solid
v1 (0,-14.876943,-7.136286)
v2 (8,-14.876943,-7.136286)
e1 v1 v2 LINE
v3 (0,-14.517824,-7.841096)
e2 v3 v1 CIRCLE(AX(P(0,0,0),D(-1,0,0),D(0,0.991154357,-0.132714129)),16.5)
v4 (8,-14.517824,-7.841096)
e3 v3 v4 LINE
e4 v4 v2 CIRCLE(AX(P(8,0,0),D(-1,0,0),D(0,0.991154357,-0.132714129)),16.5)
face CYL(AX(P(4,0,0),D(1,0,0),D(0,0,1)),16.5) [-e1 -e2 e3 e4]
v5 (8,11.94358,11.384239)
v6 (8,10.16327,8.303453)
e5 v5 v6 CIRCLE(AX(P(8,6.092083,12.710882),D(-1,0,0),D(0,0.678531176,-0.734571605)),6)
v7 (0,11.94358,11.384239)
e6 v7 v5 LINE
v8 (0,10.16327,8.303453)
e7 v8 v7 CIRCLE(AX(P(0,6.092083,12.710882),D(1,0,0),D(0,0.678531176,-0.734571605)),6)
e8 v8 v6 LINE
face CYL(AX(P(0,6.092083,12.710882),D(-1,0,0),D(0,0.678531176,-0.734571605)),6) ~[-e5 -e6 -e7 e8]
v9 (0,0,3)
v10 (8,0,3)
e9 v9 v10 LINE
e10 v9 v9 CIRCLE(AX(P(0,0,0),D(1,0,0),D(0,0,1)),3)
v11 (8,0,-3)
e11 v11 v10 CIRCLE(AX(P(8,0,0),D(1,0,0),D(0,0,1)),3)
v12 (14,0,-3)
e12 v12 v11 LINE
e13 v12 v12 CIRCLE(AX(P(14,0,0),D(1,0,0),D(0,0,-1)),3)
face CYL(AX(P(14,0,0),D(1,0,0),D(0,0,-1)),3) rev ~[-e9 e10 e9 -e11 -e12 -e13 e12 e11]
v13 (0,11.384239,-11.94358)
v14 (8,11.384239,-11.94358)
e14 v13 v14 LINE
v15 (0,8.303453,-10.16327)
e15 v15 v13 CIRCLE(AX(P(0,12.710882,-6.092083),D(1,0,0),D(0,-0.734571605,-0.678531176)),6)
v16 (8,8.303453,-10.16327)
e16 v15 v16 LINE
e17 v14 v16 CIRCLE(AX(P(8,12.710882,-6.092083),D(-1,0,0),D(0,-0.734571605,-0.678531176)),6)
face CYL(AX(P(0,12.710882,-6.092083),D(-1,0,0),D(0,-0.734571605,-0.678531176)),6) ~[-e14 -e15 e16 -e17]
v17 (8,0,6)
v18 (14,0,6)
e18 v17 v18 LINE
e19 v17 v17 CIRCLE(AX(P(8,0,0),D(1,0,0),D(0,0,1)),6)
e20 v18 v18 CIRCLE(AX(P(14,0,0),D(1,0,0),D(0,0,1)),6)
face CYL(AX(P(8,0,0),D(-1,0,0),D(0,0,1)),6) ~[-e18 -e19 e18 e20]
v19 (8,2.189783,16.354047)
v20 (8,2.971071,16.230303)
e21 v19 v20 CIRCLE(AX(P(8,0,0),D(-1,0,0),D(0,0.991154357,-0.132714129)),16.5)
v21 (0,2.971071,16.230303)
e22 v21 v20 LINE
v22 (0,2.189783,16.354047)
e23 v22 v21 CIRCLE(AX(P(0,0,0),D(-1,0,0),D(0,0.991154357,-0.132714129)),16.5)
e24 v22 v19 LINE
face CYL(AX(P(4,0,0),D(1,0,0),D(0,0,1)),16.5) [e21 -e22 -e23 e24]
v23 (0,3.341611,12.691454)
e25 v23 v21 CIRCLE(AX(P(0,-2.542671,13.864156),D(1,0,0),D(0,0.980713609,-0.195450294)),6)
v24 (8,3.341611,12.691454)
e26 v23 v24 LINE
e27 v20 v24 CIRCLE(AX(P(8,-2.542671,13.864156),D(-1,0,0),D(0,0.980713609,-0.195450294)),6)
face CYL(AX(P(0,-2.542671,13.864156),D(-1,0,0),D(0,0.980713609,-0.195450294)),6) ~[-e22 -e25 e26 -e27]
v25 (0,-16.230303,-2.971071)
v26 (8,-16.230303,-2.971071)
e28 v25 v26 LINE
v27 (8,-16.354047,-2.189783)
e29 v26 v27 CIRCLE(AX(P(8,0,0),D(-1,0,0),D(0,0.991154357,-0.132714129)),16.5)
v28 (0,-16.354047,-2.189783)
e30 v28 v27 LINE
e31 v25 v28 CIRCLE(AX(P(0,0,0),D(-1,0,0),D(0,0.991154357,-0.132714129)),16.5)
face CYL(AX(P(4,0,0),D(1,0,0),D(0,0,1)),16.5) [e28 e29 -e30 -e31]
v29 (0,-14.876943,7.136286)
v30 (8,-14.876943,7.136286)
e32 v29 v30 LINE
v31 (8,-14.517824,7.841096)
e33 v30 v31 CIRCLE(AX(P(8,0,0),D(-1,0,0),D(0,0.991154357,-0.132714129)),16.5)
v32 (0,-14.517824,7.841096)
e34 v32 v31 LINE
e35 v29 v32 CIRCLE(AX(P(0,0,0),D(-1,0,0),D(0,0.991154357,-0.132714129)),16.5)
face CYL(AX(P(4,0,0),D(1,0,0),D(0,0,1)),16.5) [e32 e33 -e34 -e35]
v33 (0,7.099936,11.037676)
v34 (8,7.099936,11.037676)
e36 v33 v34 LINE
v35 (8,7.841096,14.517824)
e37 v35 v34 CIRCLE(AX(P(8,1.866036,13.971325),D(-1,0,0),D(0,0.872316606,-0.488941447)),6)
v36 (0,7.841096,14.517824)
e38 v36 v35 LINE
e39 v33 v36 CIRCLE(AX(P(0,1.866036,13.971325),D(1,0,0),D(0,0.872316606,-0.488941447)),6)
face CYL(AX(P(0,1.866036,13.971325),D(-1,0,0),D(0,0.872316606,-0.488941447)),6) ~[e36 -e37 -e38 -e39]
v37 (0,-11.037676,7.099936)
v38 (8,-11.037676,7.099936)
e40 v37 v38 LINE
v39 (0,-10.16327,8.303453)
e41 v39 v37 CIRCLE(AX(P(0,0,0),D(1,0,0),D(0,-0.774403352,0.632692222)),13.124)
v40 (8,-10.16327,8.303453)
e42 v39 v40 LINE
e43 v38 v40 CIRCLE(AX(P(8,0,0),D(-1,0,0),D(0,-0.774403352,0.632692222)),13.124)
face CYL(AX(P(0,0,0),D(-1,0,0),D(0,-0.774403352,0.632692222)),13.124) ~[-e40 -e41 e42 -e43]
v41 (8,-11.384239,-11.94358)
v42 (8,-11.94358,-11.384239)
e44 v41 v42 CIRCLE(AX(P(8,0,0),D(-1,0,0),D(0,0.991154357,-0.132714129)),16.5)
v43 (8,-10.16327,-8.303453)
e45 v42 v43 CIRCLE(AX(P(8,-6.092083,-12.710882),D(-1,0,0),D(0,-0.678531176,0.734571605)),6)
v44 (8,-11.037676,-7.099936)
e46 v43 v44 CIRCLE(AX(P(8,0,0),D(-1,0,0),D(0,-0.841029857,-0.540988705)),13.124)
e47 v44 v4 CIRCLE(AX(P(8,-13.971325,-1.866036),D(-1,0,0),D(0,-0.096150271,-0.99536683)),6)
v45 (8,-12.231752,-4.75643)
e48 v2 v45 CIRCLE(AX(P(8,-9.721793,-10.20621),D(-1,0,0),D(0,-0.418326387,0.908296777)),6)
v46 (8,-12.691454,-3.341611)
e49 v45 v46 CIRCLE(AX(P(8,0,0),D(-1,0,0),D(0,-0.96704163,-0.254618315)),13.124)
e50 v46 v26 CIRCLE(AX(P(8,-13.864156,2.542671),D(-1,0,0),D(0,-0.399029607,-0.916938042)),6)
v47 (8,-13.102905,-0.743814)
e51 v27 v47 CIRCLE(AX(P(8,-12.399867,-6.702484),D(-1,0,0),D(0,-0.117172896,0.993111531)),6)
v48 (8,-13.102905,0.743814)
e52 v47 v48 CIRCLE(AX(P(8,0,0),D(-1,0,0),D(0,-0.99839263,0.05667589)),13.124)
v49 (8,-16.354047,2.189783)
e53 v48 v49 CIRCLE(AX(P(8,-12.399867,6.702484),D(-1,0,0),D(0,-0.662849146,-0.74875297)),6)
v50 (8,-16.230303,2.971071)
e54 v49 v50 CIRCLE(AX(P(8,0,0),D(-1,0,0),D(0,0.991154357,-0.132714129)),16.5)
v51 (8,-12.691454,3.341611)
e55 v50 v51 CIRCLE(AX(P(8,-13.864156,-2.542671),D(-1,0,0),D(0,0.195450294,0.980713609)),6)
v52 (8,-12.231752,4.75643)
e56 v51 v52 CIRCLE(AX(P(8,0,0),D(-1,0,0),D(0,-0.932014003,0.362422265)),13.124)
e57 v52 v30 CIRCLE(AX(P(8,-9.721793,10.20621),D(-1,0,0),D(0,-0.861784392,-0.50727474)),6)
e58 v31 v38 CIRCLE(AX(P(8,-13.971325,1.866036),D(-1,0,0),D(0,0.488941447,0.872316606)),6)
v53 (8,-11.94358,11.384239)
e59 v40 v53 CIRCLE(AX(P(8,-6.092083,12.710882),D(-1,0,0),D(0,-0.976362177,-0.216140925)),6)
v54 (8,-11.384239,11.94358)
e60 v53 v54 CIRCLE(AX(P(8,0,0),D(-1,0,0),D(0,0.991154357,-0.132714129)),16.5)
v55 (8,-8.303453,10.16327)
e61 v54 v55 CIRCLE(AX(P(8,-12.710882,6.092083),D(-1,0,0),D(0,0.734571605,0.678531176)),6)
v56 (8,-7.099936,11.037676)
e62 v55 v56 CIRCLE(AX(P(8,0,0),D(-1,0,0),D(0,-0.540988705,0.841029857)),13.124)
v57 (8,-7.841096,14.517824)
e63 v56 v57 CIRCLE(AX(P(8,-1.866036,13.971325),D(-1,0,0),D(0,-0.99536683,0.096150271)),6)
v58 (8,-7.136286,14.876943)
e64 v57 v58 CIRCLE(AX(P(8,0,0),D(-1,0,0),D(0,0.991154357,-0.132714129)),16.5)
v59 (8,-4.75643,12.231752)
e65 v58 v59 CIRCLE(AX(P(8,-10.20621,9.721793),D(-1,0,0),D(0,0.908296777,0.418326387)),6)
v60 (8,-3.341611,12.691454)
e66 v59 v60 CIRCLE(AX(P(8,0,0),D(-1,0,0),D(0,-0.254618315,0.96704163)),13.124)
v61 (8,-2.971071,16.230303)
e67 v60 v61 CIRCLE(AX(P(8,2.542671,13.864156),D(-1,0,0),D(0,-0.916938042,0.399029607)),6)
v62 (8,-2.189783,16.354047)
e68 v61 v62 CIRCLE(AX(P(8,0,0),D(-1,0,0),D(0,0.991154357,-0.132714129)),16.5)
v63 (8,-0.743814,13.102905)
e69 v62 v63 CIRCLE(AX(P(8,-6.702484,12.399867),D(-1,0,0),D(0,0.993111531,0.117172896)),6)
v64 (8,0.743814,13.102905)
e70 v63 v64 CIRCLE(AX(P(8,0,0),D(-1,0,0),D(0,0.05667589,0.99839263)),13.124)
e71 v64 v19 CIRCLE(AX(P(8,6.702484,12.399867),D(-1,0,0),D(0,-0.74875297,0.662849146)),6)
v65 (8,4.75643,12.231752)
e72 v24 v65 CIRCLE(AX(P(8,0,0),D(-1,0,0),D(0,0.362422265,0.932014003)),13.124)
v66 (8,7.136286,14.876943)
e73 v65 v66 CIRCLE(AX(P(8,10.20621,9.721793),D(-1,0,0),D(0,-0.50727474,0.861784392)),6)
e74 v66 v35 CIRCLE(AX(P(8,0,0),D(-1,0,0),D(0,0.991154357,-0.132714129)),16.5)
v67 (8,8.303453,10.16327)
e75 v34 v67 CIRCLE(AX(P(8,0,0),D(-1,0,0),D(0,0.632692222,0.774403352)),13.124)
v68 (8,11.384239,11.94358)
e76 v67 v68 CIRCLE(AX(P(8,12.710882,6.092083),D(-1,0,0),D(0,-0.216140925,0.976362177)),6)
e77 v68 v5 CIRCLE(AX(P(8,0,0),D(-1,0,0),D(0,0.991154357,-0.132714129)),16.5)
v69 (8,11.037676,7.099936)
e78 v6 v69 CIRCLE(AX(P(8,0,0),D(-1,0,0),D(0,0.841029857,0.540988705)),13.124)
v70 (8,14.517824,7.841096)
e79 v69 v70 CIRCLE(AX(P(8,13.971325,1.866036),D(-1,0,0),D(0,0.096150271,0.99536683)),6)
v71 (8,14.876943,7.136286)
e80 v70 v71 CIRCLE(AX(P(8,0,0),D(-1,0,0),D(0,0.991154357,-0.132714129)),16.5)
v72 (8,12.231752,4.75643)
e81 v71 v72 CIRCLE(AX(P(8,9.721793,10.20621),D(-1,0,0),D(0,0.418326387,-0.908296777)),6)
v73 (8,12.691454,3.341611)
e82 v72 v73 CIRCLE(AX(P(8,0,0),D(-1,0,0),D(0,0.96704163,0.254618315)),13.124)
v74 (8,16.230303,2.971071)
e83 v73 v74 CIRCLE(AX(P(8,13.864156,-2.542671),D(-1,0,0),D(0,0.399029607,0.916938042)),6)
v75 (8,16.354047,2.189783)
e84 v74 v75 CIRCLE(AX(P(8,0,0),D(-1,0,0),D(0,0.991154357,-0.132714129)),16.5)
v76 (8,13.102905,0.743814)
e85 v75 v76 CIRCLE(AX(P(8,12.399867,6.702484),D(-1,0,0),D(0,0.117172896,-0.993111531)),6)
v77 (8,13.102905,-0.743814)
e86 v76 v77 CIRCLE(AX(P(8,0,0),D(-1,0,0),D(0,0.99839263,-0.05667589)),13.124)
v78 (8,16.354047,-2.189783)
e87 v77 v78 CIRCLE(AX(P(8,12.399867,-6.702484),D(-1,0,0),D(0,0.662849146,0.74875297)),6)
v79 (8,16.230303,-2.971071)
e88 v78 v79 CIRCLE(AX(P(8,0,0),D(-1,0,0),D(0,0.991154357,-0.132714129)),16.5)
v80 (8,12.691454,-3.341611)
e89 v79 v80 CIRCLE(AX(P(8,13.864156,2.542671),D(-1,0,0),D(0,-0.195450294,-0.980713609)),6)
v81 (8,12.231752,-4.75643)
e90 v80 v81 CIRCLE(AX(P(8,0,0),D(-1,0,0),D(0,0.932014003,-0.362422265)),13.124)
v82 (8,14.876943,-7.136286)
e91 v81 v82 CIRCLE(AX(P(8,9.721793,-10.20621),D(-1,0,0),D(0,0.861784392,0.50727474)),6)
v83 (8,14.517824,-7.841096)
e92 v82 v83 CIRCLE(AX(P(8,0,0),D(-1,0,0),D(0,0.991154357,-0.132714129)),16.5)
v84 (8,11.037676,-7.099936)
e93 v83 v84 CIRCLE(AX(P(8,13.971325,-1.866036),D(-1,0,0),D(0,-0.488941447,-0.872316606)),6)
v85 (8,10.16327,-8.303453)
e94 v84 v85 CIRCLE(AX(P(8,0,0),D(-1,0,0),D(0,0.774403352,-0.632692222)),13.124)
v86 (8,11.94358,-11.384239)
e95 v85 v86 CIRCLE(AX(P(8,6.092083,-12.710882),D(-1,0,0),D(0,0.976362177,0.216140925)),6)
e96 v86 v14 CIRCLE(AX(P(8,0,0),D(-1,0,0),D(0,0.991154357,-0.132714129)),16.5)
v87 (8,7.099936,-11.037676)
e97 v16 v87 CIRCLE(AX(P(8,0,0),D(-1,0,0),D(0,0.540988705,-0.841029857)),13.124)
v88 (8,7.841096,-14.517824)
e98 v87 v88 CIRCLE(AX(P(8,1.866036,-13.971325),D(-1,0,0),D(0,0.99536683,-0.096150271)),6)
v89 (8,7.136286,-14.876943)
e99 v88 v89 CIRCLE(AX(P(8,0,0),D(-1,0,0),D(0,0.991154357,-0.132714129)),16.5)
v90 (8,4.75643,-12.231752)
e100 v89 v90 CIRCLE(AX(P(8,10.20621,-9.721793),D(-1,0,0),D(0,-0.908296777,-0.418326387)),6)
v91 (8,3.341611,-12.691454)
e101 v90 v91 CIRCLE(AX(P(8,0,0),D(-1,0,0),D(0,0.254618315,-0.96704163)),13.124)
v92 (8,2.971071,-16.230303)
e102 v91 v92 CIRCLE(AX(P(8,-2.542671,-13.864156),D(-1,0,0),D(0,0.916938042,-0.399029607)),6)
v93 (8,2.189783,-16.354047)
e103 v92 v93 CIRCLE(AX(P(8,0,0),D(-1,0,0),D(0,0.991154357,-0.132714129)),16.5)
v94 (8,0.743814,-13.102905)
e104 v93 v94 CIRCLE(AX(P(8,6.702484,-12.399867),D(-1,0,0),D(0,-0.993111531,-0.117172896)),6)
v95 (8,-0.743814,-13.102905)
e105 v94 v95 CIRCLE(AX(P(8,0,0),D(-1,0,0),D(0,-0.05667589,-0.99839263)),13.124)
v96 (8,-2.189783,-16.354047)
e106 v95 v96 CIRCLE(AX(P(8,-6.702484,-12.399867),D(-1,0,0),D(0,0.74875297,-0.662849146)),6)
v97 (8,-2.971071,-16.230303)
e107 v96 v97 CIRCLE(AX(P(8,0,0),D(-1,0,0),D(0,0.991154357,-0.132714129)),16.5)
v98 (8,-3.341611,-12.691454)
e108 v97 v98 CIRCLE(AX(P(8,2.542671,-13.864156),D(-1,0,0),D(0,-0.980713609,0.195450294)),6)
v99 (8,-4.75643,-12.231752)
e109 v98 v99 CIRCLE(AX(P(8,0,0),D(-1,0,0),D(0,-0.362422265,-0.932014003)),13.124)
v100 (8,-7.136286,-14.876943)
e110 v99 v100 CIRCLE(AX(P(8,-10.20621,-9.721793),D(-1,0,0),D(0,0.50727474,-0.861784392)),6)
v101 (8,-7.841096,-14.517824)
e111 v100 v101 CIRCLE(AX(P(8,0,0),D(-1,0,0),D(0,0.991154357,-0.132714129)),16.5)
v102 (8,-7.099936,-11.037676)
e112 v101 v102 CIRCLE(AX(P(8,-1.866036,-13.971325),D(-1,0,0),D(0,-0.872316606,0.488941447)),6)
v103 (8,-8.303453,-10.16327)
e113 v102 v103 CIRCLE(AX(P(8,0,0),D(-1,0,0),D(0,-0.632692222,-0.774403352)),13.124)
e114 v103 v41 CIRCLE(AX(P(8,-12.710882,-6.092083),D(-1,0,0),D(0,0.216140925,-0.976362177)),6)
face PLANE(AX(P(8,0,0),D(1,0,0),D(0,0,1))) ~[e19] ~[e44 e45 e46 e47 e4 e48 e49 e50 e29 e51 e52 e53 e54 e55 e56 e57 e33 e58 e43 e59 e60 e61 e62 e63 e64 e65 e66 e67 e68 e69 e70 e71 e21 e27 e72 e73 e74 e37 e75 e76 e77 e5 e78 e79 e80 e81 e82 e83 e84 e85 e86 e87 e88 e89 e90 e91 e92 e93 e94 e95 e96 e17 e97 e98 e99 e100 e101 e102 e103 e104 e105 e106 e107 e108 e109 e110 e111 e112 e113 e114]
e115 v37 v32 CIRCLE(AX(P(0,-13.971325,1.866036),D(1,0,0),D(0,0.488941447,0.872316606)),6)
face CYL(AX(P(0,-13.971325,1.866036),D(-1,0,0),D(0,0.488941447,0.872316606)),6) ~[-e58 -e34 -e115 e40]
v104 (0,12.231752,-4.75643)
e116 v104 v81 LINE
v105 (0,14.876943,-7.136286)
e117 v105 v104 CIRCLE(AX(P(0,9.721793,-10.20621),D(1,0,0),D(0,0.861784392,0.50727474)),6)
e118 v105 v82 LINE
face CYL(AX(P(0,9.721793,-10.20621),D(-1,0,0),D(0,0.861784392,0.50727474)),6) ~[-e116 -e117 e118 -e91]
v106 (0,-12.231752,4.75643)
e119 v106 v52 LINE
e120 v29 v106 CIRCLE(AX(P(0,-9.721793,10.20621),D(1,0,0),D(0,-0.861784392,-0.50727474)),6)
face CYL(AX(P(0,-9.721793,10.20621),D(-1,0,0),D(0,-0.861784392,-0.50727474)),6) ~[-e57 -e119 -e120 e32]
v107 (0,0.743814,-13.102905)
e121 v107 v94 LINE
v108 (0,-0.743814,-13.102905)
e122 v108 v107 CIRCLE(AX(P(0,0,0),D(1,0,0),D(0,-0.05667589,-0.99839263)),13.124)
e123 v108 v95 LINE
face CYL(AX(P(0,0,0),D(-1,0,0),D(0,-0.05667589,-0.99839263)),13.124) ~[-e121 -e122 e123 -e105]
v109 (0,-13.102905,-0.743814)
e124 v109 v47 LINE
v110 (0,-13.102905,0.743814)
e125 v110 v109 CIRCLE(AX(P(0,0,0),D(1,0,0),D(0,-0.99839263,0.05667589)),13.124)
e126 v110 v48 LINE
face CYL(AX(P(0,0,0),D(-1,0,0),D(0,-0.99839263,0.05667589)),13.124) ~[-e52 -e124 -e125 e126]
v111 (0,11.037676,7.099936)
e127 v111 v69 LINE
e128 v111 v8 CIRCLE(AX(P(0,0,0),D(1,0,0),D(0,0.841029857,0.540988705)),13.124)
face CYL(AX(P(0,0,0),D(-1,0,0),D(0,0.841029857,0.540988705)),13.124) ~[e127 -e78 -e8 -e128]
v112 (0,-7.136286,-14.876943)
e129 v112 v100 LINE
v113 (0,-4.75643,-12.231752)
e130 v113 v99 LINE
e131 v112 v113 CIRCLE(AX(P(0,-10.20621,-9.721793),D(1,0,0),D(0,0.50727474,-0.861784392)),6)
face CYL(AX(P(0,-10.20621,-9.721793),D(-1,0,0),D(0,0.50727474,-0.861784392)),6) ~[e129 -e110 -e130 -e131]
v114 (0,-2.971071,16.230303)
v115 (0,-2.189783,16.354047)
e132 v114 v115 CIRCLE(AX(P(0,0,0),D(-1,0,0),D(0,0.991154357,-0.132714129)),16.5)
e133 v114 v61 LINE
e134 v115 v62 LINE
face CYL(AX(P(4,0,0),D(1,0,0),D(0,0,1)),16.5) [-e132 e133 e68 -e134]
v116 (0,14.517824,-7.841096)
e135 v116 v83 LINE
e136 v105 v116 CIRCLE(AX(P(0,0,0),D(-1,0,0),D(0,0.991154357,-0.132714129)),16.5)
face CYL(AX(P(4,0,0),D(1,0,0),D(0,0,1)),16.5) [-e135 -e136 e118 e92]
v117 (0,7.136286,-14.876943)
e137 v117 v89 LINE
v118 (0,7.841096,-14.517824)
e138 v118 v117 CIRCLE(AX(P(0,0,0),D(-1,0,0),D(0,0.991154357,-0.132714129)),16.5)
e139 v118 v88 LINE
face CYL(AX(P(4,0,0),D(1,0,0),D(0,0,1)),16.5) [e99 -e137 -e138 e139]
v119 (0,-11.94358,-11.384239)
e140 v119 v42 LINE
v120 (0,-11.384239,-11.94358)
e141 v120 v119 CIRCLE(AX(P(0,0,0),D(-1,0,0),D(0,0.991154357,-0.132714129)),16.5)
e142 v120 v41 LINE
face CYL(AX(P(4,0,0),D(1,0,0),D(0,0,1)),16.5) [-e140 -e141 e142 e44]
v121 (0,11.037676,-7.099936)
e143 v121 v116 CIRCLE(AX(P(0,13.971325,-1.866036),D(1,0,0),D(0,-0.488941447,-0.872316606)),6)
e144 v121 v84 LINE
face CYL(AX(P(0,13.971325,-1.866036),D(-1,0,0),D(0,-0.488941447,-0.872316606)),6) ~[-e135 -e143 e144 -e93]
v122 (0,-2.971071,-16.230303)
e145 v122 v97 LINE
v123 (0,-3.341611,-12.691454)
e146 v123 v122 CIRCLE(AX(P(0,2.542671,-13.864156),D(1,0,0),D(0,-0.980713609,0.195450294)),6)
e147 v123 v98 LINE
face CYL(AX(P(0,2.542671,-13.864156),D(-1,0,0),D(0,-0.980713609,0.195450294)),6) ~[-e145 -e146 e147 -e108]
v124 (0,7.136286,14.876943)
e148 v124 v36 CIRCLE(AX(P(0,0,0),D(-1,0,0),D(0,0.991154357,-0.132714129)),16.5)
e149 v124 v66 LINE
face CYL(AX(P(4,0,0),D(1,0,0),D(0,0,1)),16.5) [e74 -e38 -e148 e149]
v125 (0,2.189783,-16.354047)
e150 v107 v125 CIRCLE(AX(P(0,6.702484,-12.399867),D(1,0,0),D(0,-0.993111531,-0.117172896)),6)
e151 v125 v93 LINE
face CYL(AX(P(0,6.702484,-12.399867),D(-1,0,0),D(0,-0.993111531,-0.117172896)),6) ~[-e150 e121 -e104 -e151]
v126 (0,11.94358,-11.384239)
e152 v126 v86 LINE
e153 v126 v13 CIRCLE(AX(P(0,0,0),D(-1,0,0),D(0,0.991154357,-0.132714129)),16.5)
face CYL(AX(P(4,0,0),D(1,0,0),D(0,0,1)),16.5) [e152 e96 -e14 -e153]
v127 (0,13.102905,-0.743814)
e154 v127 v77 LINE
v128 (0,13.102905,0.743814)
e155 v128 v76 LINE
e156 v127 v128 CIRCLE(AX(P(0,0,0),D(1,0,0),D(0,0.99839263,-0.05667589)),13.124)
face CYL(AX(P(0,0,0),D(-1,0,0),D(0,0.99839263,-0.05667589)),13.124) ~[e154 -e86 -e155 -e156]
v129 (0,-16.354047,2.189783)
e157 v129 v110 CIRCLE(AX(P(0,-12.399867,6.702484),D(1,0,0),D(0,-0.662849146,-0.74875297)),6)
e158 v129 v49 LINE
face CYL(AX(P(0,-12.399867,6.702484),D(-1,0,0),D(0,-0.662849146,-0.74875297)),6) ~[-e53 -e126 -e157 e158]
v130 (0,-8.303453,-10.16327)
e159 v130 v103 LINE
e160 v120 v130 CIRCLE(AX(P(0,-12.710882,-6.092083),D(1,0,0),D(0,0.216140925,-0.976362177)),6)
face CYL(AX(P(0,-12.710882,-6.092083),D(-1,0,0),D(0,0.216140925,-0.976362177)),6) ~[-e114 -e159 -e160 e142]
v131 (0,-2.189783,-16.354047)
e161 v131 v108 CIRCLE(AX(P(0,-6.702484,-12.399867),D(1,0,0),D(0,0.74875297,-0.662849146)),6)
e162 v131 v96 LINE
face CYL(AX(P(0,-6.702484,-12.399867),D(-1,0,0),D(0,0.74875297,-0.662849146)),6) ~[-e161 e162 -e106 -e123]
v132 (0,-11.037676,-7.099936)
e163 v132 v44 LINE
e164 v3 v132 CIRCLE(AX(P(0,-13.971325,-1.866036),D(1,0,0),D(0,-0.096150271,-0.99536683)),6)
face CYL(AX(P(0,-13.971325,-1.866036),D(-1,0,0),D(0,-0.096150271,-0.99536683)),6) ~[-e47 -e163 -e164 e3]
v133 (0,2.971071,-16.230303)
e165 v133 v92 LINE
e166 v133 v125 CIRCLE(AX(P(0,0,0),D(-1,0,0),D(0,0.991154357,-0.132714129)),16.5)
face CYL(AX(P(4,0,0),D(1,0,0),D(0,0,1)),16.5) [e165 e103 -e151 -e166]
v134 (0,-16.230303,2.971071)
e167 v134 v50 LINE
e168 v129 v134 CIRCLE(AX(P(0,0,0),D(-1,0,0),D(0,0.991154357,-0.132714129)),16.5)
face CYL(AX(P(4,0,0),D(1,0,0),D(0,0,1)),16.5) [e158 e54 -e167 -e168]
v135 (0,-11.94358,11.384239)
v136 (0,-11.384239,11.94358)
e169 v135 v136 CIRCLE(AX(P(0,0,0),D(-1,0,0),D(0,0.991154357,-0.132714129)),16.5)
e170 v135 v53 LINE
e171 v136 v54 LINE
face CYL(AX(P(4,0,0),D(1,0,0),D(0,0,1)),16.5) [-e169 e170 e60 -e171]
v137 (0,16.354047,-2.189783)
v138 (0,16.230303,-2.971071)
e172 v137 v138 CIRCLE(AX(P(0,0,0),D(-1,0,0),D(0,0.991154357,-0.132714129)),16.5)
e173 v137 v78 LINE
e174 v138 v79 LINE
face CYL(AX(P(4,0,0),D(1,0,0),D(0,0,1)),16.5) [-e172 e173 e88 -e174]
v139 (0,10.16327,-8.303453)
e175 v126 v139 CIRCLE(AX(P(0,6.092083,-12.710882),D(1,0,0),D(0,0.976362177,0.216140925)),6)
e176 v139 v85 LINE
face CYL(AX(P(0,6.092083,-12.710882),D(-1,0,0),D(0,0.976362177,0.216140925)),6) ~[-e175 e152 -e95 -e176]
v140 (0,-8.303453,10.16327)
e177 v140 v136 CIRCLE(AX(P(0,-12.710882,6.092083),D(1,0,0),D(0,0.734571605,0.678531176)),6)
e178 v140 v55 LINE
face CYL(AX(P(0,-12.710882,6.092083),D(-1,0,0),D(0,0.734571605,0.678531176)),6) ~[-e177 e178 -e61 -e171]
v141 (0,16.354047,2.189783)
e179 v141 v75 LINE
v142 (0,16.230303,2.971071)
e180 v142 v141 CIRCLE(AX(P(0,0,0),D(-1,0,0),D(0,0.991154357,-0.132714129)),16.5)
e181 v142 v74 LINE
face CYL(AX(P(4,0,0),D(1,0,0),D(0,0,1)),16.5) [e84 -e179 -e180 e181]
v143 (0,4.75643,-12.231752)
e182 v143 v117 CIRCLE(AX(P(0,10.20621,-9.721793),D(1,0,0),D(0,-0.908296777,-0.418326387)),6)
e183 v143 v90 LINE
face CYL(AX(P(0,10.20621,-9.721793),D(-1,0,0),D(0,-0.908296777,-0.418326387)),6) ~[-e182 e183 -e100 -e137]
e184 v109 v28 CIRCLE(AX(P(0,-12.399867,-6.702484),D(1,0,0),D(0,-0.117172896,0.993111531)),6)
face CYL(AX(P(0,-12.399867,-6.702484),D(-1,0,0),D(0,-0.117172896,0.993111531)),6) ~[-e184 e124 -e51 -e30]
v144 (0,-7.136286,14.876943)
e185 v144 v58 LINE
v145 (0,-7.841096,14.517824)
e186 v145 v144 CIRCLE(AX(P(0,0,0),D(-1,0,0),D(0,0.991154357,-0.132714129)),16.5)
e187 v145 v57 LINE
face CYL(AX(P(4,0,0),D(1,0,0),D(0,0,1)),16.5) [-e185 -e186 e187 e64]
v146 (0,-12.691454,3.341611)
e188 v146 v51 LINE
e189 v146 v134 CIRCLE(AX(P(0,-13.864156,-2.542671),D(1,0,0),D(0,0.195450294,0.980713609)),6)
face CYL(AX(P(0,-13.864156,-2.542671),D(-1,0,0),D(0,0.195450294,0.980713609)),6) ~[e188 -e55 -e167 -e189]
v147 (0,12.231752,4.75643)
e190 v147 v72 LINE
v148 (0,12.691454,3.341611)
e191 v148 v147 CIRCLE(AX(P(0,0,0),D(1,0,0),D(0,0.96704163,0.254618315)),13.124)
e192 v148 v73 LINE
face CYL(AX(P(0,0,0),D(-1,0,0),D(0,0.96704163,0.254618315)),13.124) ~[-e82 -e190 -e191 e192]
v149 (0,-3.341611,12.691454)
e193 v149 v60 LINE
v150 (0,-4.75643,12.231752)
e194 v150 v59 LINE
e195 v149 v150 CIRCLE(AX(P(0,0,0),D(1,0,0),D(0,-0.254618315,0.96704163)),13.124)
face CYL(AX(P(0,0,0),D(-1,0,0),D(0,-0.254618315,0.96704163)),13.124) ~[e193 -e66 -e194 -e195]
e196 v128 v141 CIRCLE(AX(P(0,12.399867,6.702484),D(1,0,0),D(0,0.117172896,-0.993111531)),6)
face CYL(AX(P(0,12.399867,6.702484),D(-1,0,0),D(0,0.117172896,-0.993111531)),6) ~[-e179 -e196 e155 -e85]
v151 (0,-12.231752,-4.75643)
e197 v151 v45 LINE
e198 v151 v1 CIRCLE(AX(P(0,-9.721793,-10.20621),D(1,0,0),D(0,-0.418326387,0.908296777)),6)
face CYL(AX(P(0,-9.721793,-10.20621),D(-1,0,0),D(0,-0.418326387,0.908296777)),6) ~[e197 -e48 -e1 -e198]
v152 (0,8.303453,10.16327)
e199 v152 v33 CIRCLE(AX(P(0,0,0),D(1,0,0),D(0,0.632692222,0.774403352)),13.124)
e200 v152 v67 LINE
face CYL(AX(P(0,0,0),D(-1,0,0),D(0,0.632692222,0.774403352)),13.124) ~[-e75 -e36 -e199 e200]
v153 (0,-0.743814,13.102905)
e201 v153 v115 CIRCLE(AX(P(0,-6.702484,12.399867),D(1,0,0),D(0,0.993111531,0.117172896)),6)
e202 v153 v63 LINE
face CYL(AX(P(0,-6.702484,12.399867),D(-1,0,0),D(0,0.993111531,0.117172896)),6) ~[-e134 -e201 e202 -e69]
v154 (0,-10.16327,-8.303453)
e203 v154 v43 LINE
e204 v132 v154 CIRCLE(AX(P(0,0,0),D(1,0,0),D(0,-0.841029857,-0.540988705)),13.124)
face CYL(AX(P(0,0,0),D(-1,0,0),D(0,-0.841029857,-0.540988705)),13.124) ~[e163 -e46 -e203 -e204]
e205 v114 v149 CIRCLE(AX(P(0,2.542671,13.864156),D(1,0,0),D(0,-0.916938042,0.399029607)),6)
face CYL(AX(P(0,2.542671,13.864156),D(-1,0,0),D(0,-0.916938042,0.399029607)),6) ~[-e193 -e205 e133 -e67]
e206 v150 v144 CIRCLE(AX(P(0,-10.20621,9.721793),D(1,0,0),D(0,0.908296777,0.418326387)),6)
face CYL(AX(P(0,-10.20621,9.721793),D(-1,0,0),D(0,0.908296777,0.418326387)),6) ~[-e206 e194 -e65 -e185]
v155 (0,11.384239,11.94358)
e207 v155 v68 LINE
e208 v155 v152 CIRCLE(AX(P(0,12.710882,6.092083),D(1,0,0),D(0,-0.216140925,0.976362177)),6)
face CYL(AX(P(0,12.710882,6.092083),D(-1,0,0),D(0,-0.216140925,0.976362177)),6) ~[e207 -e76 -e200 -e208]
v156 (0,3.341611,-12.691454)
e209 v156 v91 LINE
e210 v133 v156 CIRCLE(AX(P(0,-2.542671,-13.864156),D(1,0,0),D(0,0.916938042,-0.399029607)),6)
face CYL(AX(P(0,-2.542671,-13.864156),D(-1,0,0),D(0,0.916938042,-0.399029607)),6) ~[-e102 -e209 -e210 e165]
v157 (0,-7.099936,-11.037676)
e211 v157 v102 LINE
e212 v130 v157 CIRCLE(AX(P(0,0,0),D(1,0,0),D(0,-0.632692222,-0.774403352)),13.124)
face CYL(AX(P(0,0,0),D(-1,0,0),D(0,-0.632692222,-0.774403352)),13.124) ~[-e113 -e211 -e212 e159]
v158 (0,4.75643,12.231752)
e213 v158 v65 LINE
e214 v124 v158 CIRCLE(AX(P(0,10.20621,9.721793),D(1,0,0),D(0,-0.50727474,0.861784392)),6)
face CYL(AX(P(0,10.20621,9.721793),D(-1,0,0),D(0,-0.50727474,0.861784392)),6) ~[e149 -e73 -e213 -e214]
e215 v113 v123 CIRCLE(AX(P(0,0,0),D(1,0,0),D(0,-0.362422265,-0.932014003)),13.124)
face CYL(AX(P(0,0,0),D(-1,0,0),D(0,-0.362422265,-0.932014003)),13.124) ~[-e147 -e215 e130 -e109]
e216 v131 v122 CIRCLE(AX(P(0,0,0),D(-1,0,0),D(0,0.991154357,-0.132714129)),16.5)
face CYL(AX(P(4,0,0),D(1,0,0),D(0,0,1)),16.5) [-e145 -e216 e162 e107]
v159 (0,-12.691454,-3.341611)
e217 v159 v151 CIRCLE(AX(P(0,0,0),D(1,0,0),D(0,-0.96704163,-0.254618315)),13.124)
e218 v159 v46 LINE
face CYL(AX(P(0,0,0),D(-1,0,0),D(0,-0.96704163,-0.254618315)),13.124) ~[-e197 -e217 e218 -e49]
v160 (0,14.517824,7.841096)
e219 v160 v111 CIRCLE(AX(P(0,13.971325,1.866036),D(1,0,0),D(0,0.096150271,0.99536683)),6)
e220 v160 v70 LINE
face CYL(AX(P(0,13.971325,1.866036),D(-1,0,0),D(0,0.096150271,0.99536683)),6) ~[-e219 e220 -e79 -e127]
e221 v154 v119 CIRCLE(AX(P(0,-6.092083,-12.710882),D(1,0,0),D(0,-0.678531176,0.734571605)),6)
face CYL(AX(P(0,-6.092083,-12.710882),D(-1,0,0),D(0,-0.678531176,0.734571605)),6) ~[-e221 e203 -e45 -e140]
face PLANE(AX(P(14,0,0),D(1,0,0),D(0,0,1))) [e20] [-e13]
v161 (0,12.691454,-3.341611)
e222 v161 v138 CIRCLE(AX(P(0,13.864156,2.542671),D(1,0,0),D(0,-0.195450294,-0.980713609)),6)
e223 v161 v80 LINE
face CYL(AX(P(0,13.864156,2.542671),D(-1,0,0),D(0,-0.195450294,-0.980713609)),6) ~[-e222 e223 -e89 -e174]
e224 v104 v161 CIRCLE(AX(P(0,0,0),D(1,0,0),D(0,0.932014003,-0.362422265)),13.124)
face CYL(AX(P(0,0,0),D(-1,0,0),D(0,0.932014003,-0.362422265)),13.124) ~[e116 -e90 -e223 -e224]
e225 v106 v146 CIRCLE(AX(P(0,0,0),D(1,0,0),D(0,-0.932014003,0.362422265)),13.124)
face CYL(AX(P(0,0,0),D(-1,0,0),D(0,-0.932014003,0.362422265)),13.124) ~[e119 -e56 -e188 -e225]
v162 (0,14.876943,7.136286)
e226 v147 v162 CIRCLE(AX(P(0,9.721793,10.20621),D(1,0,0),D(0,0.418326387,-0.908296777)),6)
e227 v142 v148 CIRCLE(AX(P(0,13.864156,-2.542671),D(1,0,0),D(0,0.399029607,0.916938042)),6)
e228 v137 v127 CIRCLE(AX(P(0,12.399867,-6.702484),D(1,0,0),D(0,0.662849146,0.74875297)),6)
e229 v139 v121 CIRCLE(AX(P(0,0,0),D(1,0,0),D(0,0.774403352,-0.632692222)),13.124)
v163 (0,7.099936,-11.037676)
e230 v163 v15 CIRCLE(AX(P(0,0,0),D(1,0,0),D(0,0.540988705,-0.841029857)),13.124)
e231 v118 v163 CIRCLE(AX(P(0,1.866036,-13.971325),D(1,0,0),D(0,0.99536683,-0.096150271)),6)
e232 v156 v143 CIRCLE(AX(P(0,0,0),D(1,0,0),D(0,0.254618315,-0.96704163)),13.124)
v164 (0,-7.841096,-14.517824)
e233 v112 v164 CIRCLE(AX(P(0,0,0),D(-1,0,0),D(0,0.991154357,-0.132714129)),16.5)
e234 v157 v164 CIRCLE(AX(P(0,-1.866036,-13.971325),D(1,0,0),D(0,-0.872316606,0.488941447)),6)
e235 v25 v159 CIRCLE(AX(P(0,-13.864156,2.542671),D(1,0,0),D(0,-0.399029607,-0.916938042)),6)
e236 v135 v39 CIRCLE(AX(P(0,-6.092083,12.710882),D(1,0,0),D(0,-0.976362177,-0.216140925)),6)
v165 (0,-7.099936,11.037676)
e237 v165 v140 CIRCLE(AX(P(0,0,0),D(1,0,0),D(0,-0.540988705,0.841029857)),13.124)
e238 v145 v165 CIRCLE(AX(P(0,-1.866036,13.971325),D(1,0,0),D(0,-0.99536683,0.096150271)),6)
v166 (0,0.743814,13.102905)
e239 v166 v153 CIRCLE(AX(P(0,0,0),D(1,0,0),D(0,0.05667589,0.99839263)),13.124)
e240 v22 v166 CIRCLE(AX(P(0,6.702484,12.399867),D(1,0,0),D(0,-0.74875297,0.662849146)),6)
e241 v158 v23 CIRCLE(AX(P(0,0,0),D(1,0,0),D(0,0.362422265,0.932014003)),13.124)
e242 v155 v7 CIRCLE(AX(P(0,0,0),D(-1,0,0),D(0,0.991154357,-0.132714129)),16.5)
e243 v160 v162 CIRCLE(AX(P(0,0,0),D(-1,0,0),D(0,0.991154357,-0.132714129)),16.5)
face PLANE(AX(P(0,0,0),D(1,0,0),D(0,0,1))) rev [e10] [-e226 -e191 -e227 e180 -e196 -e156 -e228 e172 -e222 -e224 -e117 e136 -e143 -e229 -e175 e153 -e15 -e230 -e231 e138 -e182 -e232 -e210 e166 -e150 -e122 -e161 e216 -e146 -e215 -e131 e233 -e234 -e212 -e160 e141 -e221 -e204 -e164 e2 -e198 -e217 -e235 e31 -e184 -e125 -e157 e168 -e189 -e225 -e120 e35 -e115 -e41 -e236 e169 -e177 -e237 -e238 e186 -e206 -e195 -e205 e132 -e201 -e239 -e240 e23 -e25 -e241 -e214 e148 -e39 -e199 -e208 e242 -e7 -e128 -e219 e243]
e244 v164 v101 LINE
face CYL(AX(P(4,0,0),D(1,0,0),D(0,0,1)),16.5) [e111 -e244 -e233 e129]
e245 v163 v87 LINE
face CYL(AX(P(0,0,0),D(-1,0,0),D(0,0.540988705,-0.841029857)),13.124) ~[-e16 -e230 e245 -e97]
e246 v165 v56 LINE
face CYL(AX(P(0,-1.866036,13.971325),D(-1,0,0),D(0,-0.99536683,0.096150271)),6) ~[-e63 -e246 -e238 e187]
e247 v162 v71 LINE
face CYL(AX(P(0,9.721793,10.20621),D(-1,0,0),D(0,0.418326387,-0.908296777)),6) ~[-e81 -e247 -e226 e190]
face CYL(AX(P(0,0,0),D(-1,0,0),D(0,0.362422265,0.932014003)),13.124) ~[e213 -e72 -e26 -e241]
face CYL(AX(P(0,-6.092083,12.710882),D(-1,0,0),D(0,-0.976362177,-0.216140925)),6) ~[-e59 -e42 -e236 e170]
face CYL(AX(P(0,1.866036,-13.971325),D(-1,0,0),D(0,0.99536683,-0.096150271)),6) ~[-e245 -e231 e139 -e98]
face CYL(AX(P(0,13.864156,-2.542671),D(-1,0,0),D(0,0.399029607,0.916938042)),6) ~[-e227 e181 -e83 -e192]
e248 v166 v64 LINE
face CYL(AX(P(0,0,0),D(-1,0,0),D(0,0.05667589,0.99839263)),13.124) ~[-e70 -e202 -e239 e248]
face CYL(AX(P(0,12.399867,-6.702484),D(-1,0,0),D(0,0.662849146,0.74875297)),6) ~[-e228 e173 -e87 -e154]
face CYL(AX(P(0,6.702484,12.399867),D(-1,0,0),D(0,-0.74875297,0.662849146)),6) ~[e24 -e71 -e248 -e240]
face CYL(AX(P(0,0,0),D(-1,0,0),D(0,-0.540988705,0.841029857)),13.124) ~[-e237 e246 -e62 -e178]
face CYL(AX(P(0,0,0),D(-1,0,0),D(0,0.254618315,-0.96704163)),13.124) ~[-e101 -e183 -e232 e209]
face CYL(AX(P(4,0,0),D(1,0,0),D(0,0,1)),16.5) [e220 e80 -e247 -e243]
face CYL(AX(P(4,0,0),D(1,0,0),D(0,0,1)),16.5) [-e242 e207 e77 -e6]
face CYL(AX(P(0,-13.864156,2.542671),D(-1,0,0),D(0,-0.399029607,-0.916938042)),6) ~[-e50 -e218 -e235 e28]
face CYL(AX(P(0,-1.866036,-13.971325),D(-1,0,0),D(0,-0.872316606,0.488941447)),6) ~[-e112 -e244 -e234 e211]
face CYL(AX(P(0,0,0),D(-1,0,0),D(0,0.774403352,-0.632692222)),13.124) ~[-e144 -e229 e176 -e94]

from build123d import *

# Parameters (mm, degrees)
BASPROSKE_W         = 8
BASPROSKE_H         = 16.5
TOOTHCUT_DEPTH      = 25.667792767
TEETHCUTS_COUNT     = 20
TEETHCUTS_ANGLE     = 342
BORSKE_R            = 3
BORE_DEPTH          = 50.0000508
SKETCH1_R           = 6
BOSS_EXTRUDE1_DEPTH = 6
SKETCH2_R           = 3
CUT_EXTRUDE1_DEPTH  = 6


with BuildPart() as part:
    # BasProSke → Base-Revolve (revolve)
    with BuildSketch(Plane(origin=(0, 0, 0), x_dir=(1, 0, 0), z_dir=(0, 1, 0)), mode=Mode.PRIVATE) as base_revolve_sk:
        with Locations((4, 8.25)):
            Rectangle(BASPROSKE_W, BASPROSKE_H)
    revolve(base_revolve_sk.sketch.rotate(Axis((-10, 0, 0), (1, 0, 0)), 180), axis=Axis((-10, 0, 0), (1, 0, 0)))

    # TooCutSke → ToothCut (cut, through all)
    with BuildSketch(Plane(origin=(0, 0, 0), x_dir=(0, 0, -1), z_dir=(1, 0, 0))):
        with BuildLine():
            ThreePointArc((0.74381438, 13.102904875), (0, 13.124), (-0.74381438, 13.102904875))
            ThreePointArc((-0.74381438, 13.102904875), (-1.226473103, 14.852072512), (-2.209965745, 16.376962373))
            ThreePointArc((-2.209965745, 16.376962373), (0, 16.5254), (2.209965745, 16.376962373))
            ThreePointArc((2.209965745, 16.376962373), (1.226473103, 14.852072512), (0.74381438, 13.102904875))
        make_face()
    toothcut = extrude(amount=TOOTHCUT_DEPTH, mode=Mode.SUBTRACT)

    # TeethCuts: ToothCut ×20 about axis
    teethcuts_axis = Axis((-10, 0, 0), (1, 0, 0))
    for i in range(1, TEETHCUTS_COUNT):
        add(toothcut.rotate(teethcuts_axis, i * TEETHCUTS_ANGLE / (TEETHCUTS_COUNT - 1)), mode=Mode.SUBTRACT)

    # BorSke → Bore (cut, symmetric)
    with BuildSketch(Plane(origin=(0, 0, 0), x_dir=(0, 0, -1), z_dir=(1, 0, 0))):
        with Locations(Location((0, 0, 0), (0, 0, 180))):
            Circle(BORSKE_R)
    extrude(amount=BORE_DEPTH, both=True, mode=Mode.SUBTRACT)

    # Sketch1 → Boss-Extrude1 (add)
    with BuildSketch(Plane(origin=(8, 0, 0), x_dir=(0, 0, -1), z_dir=(1, 0, 0))):
        with Locations(Location((0, 0, 0), (0, 0, 180))):
            Circle(SKETCH1_R)
    extrude(amount=BOSS_EXTRUDE1_DEPTH)

    # Sketch2 → Cut-Extrude1 (cut)
    with BuildSketch(Plane(origin=(14, 0, 0), x_dir=(0, 0, -1), z_dir=(1, 0, 0))):
        Circle(SKETCH2_R)
    extrude(amount=-CUT_EXTRUDE1_DEPTH, mode=Mode.SUBTRACT)


solid = part.part
